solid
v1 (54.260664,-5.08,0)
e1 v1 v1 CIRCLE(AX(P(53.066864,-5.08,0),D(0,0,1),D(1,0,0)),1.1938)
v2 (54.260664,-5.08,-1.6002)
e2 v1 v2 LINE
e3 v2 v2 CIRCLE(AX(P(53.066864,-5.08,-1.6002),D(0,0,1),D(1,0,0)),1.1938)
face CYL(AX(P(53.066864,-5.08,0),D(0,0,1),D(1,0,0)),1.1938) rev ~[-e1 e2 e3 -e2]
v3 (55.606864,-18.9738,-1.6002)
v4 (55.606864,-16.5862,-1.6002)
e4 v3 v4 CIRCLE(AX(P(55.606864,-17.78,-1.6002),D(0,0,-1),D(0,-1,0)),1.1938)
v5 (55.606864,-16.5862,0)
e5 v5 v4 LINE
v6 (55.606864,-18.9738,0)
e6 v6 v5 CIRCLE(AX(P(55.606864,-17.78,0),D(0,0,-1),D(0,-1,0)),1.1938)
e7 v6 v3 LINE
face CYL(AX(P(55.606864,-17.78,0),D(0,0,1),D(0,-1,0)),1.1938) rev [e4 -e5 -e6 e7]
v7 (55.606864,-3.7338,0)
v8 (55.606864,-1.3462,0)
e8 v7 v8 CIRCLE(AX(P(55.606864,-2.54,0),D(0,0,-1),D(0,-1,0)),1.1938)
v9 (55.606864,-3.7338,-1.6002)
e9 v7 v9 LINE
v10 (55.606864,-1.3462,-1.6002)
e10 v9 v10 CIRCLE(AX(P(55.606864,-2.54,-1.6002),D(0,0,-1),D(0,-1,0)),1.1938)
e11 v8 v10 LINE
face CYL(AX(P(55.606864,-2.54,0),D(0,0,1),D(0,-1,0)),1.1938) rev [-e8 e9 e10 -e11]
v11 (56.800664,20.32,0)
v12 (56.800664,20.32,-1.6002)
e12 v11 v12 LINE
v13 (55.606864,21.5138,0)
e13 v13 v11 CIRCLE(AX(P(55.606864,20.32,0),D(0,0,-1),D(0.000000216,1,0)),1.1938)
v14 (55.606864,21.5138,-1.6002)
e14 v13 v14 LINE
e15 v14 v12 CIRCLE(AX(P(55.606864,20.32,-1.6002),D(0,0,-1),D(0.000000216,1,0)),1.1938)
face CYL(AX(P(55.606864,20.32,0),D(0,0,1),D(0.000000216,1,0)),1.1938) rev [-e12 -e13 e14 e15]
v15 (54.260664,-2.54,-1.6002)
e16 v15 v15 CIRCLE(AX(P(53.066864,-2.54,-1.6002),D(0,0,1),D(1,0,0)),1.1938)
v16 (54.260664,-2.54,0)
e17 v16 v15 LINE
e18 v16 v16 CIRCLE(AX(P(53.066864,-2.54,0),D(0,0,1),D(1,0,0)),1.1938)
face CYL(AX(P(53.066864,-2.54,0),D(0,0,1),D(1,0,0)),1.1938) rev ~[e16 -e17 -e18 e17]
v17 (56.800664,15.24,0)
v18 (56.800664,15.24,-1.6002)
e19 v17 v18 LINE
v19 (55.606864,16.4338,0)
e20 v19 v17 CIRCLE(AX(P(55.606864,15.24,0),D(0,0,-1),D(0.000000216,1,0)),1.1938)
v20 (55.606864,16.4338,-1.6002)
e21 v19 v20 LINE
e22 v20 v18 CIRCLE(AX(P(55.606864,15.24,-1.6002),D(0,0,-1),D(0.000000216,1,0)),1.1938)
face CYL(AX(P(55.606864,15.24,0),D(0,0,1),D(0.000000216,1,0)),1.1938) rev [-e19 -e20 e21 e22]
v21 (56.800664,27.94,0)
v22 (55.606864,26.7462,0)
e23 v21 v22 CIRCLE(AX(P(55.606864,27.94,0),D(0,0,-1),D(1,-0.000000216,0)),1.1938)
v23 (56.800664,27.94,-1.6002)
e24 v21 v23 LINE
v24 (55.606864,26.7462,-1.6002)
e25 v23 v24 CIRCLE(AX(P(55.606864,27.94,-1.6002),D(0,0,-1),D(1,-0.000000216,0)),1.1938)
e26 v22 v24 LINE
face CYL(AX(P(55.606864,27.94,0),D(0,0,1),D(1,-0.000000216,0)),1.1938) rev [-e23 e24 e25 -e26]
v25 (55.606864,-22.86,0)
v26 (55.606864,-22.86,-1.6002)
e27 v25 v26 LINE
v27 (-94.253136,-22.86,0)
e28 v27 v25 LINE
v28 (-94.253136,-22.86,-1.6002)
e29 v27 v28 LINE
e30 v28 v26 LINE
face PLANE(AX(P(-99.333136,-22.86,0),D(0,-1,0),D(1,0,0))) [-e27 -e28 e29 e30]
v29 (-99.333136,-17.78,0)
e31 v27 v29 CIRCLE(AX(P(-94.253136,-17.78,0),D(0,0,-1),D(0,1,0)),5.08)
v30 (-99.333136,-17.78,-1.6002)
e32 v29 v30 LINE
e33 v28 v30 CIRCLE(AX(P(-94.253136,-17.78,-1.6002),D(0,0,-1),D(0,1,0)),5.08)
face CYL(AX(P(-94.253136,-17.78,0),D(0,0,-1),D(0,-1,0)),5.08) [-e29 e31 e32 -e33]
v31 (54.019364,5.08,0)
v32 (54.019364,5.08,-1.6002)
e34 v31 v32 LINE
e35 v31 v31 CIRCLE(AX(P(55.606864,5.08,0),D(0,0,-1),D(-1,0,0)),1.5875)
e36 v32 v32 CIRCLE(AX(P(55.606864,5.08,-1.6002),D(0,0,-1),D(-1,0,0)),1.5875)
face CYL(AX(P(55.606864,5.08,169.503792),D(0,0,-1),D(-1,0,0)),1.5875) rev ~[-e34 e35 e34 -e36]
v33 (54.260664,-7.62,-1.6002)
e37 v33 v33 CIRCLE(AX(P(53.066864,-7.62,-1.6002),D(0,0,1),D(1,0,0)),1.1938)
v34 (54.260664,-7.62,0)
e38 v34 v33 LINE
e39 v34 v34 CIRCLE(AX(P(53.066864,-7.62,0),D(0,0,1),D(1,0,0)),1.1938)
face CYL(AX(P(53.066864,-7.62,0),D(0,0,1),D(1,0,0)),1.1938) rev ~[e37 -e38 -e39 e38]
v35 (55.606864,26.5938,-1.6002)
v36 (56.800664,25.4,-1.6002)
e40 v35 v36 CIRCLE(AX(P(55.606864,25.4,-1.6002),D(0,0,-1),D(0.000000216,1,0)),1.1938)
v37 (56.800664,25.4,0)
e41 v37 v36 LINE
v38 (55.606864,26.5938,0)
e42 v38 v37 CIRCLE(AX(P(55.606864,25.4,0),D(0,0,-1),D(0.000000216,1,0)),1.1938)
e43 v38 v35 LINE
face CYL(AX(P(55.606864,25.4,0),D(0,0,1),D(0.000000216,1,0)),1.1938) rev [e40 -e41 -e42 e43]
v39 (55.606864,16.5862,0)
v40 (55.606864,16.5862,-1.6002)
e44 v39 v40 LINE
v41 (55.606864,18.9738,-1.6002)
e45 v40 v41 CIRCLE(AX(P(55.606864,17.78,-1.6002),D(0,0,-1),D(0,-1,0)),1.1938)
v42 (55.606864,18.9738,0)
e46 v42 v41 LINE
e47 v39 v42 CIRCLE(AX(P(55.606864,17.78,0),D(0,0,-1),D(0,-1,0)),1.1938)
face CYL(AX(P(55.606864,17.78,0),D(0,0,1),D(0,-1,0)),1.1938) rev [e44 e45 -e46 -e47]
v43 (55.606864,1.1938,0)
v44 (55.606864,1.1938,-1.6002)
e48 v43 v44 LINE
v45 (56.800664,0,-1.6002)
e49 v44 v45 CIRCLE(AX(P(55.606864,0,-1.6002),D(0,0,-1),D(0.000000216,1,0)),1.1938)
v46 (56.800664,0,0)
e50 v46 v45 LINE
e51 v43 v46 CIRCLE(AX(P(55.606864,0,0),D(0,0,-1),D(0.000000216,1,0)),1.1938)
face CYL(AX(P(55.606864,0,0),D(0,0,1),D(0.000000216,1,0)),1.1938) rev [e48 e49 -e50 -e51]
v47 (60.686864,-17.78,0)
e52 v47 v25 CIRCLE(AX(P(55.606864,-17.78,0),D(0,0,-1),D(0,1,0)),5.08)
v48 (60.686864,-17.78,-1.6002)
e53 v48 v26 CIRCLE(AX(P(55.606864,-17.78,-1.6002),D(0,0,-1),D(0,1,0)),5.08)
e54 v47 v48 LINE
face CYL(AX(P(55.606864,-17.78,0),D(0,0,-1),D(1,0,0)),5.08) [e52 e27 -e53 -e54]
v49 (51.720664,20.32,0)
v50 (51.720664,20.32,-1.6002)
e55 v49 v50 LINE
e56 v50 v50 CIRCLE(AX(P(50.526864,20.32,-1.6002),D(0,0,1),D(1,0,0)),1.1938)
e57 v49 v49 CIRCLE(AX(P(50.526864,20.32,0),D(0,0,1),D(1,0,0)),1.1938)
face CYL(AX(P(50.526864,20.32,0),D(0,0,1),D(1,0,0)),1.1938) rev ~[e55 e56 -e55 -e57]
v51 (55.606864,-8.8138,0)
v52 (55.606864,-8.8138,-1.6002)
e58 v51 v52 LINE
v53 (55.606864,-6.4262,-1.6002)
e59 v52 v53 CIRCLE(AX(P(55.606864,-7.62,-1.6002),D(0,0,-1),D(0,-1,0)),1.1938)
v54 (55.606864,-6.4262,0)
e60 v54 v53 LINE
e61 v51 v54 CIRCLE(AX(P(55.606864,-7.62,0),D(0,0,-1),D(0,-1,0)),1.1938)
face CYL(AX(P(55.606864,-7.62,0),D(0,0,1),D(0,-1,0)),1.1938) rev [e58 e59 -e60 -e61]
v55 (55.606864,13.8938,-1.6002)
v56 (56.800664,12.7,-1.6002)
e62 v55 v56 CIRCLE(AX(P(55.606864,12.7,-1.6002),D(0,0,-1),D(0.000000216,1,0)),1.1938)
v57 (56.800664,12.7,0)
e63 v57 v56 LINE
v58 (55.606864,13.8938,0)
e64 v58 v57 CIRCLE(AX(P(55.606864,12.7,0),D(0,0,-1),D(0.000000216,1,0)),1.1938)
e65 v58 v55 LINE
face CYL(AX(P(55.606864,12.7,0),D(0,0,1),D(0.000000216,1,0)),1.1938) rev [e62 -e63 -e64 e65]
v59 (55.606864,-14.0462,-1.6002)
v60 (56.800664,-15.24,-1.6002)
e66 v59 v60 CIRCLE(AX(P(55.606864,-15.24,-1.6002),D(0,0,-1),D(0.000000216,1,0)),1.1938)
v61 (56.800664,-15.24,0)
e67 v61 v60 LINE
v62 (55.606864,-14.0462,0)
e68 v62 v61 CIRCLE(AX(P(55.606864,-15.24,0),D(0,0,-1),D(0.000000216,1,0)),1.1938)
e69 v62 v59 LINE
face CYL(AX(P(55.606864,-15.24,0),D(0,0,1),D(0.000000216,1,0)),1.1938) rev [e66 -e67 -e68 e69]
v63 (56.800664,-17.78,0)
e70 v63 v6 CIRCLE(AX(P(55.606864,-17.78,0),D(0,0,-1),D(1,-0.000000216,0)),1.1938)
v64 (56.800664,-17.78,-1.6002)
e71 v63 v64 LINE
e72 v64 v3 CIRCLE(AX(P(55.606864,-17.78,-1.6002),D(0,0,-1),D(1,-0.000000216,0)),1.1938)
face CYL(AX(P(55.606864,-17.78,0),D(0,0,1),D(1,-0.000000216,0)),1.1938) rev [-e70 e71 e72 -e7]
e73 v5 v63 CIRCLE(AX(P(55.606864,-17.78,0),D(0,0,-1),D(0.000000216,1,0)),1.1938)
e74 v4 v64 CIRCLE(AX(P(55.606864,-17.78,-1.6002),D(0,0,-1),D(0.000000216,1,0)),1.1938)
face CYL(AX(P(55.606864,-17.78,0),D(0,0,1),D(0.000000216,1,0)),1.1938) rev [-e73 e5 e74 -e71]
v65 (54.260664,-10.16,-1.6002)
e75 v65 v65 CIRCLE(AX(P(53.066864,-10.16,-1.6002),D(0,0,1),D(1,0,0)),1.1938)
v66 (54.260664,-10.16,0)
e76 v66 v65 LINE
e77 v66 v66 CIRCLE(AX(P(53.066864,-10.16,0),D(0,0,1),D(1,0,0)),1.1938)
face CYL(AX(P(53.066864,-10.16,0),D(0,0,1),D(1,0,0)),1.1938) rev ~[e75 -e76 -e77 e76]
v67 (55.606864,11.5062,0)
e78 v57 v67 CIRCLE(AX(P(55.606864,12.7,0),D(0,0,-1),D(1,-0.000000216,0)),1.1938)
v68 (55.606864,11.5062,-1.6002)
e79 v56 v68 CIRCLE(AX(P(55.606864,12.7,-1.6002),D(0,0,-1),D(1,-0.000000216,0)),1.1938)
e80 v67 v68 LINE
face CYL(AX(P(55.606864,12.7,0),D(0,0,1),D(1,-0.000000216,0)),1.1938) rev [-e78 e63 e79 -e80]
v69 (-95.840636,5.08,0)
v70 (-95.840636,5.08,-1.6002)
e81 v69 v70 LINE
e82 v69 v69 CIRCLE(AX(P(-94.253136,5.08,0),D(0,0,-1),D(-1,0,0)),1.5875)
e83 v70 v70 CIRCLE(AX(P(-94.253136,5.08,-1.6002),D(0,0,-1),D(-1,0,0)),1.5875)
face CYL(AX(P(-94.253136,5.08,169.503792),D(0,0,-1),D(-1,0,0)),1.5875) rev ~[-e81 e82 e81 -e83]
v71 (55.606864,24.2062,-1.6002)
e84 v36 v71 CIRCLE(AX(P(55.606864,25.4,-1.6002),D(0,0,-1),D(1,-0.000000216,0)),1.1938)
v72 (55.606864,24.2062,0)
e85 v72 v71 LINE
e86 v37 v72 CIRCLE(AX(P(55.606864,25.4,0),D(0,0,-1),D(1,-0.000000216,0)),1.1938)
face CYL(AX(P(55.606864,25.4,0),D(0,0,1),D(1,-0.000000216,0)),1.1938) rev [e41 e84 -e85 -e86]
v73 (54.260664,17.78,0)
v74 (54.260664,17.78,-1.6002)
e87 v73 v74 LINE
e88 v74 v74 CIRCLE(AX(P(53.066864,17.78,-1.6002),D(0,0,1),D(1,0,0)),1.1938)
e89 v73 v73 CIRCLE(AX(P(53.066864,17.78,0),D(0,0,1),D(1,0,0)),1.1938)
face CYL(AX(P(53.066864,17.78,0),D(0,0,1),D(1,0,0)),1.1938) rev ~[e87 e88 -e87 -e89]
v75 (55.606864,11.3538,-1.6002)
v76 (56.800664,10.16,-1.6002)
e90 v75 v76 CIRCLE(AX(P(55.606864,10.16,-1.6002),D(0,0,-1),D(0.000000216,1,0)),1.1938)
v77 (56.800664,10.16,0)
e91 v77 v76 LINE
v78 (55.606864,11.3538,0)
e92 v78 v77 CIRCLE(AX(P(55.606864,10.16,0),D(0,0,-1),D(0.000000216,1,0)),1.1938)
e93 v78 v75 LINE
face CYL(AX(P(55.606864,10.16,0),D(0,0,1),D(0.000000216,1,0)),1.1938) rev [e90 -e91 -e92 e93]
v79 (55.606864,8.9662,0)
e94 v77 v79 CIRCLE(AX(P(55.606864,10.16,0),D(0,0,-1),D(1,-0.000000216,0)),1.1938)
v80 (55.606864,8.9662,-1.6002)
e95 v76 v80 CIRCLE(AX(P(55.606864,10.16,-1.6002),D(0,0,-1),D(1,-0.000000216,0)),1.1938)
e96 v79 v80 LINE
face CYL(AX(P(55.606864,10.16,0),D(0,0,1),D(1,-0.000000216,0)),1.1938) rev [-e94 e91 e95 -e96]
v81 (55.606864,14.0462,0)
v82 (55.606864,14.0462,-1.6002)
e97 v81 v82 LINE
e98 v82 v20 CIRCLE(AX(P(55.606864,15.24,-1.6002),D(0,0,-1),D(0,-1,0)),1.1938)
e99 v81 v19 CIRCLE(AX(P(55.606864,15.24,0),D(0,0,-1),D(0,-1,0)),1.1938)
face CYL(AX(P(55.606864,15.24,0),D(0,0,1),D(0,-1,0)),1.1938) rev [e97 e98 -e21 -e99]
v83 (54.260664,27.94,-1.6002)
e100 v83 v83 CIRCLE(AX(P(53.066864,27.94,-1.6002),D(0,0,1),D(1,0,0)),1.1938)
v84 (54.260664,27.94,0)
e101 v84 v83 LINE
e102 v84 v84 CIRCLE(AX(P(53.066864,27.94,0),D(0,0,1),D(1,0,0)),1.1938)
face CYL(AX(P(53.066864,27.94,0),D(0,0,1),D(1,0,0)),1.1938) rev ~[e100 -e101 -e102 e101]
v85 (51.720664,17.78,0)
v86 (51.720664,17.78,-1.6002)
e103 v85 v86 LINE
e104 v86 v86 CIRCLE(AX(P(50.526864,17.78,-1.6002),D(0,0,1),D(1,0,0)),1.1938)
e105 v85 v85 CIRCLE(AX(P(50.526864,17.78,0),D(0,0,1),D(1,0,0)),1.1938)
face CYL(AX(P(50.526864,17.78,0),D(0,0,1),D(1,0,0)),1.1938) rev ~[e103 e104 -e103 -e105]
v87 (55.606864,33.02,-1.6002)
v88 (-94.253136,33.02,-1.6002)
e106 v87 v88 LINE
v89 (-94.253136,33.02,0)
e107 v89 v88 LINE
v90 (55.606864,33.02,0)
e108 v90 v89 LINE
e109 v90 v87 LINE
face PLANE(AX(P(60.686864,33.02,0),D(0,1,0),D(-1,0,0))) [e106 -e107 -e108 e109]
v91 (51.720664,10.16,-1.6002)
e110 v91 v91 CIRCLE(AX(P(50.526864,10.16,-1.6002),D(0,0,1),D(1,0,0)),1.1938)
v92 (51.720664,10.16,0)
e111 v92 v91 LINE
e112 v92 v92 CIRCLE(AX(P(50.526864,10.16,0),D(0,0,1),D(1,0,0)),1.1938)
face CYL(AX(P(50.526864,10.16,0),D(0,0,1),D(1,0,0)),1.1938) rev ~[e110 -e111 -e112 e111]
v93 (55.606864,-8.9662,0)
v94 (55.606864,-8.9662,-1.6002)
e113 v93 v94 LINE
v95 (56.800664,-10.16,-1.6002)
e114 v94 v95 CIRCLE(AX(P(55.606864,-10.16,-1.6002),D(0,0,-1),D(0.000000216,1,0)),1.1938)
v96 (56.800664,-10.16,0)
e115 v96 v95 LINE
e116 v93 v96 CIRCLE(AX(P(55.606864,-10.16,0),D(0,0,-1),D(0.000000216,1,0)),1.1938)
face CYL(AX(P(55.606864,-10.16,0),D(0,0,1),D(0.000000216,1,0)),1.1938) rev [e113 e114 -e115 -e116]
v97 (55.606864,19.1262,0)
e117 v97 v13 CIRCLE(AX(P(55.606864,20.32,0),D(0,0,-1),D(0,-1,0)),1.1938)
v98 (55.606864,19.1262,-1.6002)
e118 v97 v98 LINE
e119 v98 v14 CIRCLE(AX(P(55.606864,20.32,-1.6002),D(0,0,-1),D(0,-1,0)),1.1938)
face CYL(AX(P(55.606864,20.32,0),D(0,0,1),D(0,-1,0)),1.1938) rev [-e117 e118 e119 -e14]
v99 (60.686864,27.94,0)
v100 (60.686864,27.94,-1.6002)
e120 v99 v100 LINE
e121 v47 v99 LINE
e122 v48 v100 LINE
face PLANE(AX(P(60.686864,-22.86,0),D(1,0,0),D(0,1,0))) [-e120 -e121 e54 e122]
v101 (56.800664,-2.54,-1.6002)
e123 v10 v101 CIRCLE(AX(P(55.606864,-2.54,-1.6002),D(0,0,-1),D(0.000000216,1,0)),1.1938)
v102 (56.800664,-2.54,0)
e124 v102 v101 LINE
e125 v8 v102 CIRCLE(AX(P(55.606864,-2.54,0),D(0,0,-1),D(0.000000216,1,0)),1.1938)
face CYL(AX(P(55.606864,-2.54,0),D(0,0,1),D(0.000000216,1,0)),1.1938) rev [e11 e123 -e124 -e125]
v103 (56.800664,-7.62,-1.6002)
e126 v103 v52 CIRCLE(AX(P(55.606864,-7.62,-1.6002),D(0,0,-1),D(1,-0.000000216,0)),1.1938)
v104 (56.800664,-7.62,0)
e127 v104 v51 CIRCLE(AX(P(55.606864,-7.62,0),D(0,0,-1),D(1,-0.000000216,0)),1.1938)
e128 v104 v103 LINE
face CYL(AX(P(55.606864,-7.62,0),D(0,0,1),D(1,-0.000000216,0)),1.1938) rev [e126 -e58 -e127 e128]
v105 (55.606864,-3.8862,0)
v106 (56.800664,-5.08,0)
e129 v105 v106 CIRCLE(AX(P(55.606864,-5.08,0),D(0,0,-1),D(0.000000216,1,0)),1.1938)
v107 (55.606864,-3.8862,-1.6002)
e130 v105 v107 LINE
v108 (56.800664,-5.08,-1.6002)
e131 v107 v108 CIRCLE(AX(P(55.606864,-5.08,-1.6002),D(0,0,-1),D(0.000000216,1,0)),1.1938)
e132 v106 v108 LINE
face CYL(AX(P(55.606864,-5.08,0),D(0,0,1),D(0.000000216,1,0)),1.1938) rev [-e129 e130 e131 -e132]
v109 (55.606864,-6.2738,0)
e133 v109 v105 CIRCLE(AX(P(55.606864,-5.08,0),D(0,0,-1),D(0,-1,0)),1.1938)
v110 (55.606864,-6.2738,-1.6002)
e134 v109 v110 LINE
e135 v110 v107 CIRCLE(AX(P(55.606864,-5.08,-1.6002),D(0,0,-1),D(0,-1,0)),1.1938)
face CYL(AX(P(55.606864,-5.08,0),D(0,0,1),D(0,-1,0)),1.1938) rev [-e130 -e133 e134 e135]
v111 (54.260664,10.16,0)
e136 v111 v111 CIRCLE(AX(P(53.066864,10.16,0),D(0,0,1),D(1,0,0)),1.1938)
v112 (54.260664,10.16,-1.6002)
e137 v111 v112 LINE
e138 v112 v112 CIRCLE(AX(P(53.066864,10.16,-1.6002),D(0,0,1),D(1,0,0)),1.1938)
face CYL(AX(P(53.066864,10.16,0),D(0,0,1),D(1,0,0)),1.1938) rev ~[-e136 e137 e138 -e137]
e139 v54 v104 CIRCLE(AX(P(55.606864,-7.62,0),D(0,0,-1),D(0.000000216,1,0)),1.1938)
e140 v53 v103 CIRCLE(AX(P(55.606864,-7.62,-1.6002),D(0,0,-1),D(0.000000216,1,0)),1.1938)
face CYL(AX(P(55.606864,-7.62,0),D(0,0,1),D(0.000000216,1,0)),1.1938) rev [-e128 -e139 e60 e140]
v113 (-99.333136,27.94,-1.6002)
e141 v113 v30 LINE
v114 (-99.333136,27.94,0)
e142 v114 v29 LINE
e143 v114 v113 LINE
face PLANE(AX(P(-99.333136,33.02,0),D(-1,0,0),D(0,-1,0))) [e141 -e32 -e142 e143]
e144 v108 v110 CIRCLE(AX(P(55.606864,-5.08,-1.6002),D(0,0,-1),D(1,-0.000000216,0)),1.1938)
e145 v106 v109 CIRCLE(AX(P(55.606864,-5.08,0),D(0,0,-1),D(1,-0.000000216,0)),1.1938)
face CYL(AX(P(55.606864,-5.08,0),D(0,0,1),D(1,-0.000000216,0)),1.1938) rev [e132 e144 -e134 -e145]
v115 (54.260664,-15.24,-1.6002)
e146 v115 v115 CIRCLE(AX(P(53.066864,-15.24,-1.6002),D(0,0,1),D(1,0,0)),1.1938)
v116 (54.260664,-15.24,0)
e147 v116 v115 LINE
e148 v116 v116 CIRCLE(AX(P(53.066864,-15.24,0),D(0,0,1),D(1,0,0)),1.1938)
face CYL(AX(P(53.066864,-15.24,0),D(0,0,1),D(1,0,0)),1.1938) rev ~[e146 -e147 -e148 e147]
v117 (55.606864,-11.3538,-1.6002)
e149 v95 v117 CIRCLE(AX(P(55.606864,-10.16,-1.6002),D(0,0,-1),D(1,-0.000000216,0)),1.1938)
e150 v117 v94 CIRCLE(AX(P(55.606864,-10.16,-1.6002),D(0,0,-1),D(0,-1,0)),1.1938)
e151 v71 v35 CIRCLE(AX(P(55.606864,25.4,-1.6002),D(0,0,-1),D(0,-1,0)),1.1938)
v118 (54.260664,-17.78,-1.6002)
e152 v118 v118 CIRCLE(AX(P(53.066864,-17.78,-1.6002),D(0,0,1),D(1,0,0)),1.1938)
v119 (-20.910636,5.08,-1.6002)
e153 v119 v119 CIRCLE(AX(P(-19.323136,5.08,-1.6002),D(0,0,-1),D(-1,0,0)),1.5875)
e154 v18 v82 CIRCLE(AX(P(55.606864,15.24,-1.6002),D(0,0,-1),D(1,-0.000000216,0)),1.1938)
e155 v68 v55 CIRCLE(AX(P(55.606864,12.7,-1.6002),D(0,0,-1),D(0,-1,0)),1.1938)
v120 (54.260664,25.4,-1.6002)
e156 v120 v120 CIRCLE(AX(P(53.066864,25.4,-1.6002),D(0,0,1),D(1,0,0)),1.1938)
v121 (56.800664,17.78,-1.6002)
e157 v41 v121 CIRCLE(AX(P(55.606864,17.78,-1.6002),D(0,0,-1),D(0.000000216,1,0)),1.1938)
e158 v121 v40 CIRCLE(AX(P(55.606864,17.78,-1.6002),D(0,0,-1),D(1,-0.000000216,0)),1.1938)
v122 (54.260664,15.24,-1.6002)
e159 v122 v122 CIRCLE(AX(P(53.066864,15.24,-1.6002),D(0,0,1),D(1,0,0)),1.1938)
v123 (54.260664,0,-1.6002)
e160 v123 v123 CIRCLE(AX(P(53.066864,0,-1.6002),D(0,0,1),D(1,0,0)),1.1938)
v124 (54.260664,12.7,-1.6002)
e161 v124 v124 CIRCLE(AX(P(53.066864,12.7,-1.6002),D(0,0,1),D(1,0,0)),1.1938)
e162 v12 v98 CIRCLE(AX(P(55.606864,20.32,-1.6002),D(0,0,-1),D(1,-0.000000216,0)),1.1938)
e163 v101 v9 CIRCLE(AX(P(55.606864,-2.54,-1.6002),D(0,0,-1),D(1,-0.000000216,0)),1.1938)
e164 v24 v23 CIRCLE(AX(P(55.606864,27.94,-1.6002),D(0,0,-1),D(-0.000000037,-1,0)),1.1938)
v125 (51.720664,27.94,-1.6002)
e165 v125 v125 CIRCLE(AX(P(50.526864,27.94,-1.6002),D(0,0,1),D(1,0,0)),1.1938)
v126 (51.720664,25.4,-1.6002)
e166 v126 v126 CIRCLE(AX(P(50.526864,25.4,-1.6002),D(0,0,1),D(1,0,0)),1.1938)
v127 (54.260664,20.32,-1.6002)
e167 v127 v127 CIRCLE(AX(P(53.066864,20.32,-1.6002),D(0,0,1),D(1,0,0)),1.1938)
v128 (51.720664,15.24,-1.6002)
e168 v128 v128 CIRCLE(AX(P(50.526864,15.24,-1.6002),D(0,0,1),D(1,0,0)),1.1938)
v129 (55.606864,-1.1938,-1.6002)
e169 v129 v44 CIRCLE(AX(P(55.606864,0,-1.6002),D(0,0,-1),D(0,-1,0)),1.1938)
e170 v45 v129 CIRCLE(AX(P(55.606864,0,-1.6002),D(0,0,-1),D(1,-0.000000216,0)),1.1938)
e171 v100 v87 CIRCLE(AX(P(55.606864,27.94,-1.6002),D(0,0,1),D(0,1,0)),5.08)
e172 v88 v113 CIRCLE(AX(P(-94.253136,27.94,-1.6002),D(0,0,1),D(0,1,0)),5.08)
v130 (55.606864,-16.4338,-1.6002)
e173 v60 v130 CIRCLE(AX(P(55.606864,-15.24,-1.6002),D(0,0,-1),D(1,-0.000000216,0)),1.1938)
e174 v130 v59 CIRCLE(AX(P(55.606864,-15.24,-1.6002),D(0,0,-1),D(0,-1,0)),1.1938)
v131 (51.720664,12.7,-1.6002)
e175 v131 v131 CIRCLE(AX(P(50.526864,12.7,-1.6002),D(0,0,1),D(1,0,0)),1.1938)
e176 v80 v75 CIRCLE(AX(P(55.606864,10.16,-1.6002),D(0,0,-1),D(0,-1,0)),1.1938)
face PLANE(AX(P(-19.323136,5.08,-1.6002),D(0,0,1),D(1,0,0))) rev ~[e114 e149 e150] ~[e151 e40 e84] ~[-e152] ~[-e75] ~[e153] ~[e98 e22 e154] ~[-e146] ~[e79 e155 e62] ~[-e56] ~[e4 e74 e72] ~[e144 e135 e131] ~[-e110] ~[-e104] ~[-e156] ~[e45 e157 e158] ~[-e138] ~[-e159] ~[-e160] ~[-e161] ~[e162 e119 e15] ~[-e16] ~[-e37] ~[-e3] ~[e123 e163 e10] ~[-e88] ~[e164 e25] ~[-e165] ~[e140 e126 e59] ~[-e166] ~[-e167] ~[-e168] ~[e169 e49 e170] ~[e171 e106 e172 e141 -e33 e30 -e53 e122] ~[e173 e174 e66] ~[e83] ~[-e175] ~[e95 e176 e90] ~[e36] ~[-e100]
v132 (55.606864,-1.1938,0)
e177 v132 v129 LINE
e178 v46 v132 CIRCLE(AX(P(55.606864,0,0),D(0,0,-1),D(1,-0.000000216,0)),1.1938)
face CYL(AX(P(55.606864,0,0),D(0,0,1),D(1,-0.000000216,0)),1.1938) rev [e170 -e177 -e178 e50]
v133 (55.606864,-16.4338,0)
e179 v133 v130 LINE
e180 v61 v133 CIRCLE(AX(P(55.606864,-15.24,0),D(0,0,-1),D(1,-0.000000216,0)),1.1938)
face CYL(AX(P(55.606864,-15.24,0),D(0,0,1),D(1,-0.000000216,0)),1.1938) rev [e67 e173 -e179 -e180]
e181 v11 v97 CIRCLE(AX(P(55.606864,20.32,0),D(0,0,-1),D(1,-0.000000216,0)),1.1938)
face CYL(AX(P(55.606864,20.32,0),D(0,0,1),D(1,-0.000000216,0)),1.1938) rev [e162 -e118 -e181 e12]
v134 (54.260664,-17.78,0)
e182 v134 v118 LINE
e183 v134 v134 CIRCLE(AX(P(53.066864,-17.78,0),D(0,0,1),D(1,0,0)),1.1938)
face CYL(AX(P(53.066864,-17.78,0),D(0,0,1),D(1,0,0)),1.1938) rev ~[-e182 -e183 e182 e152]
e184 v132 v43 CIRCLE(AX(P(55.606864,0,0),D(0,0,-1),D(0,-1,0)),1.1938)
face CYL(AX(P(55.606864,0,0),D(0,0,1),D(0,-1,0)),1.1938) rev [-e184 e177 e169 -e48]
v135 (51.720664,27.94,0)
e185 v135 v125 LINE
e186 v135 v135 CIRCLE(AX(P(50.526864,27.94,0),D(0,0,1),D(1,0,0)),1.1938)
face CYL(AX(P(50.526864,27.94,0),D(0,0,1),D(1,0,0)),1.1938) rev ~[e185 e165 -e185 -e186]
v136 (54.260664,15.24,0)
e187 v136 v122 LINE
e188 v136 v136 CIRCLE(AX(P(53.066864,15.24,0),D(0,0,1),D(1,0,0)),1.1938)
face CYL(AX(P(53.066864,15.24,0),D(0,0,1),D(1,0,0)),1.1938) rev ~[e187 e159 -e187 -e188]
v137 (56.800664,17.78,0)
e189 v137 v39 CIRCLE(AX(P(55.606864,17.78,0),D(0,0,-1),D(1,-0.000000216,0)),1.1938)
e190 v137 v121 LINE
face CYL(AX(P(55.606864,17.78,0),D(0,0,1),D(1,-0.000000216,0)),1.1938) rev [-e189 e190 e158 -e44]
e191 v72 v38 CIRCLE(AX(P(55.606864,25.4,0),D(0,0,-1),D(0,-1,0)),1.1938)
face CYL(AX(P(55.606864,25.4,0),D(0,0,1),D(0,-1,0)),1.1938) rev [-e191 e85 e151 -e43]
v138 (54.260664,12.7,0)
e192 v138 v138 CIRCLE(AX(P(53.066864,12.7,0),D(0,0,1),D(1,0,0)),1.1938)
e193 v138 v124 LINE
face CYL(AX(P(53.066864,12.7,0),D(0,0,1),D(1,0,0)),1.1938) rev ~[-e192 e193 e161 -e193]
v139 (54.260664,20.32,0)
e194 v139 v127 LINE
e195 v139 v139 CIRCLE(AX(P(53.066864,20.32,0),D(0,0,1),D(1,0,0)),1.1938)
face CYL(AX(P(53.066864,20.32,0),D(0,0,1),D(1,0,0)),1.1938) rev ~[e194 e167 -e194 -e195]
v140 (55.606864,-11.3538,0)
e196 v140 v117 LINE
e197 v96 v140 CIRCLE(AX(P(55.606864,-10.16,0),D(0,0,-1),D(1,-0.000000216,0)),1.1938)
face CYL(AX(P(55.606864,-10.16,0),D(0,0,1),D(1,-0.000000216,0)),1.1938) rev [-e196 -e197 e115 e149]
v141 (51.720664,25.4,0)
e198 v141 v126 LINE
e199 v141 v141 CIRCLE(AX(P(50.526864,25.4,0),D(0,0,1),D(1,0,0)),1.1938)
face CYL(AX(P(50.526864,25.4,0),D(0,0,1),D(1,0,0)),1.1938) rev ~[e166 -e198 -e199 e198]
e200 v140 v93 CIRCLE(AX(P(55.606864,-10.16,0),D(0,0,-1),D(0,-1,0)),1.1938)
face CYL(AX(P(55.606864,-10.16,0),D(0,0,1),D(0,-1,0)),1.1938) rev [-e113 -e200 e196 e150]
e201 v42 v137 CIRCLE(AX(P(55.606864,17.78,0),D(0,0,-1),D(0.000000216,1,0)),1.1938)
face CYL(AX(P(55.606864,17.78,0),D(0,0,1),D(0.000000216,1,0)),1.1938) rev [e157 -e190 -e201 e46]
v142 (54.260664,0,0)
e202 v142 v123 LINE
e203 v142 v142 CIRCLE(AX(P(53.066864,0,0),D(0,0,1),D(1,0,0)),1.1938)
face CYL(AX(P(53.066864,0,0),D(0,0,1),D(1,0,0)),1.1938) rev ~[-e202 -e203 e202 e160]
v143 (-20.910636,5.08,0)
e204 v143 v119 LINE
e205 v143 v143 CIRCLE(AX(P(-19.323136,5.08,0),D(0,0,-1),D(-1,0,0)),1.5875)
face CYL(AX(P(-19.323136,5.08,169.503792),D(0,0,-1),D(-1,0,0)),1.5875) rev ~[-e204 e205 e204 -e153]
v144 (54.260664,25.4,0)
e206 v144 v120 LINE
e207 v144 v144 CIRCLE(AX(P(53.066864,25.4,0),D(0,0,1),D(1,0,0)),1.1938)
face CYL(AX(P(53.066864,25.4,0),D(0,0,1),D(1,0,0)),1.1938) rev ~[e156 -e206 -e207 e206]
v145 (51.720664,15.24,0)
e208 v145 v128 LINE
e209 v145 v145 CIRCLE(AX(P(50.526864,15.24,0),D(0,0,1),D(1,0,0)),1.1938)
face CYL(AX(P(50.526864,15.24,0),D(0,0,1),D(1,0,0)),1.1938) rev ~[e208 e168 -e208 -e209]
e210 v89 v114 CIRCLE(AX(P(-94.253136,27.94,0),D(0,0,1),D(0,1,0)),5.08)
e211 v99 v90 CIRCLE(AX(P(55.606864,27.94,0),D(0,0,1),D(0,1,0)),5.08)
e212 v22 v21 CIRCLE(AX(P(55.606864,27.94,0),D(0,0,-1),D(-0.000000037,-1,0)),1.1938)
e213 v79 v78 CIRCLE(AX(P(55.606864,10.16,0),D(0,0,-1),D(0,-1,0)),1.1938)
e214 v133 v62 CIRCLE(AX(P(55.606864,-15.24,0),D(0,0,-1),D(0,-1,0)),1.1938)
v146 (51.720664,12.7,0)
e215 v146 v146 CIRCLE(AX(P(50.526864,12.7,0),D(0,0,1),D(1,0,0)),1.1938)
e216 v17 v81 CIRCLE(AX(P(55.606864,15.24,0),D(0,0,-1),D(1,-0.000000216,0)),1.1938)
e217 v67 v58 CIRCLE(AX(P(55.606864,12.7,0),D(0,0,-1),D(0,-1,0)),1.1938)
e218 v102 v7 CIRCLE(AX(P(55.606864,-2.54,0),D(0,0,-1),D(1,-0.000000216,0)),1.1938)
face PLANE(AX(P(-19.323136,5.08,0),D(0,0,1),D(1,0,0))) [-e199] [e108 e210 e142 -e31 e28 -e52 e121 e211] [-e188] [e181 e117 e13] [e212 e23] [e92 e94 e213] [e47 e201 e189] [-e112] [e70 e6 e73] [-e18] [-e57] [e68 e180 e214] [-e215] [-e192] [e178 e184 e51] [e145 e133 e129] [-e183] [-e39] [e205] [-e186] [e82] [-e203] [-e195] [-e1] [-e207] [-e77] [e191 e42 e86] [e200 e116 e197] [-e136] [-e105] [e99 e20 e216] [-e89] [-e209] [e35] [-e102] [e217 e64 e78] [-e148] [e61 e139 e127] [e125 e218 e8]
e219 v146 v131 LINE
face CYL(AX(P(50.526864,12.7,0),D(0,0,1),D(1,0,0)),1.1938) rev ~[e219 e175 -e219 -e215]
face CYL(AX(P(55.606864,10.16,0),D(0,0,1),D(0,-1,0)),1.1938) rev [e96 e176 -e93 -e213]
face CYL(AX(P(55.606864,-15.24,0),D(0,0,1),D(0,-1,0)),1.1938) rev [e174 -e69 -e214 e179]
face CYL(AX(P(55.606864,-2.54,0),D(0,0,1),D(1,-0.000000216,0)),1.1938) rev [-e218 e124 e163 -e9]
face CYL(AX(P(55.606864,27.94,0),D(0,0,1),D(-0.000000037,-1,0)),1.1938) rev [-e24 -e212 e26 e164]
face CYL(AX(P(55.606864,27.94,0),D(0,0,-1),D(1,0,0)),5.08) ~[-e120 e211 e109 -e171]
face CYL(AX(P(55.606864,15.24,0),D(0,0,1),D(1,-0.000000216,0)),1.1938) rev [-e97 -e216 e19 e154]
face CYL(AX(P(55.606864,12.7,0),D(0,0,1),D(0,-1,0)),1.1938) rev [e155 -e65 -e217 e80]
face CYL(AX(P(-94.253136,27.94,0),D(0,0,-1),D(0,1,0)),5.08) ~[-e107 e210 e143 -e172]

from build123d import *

# Parameters (mm, degrees)
F0_R     = 1.1938
F1_DEPTH = 1.6002
F2_D     = 3.175
F3_R     = 5.08


with BuildPart() as f1:
    # F0 (on Top) → F1 (new body)
    with BuildSketch(Plane.XY):
        Polygon((-94.253136, -22.86), (55.606864, -22.86), (60.686864, -22.86), (60.686864, 33.02), (55.606864, 33.02), (-94.253136, 33.02), (-99.333136, 33.02), (-99.333136, -22.86), align=None)
        with Locations((53.066864, -17.78)):
            Circle(F0_R, mode=Mode.SUBTRACT)
        with BuildLine():
            ThreePointArc((55.606864, -18.9738), (54.413064, -17.78), (55.606864, -16.5862))
            ThreePointArc((55.606864, -16.5862), (56.451008, -16.935856), (56.800664, -17.78))
            ThreePointArc((56.800664, -17.78), (56.451008, -18.624144), (55.606864, -18.9738))
        make_face(mode=Mode.SUBTRACT)
        with Locations((53.066864, -15.24)):
            Circle(F0_R, mode=Mode.SUBTRACT)
        with BuildLine():
            ThreePointArc((55.606864, -16.4338), (54.413064, -15.24), (55.606864, -14.0462))
            ThreePointArc((55.606864, -14.0462), (56.451008, -14.395856), (56.800664, -15.24))
            ThreePointArc((56.800664, -15.24), (56.451008, -16.084144), (55.606864, -16.4338))
        make_face(mode=Mode.SUBTRACT)
        with Locations((53.066864, -10.16)):
            Circle(F0_R, mode=Mode.SUBTRACT)
        with BuildLine():
            ThreePointArc((55.606864, -11.3538), (54.413064, -10.16), (55.606864, -8.9662))
            ThreePointArc((55.606864, -8.9662), (56.451008, -9.315856), (56.800664, -10.16))
            ThreePointArc((56.800664, -10.16), (56.451008, -11.004144), (55.606864, -11.3538))
        make_face(mode=Mode.SUBTRACT)
        with Locations((53.066864, -7.62)):
            Circle(F0_R, mode=Mode.SUBTRACT)
        with BuildLine():
            ThreePointArc((56.800664, -7.62), (56.451008, -8.464144), (55.606864, -8.8138))
            ThreePointArc((55.606864, -8.8138), (54.413064, -7.62), (55.606864, -6.4262))
            ThreePointArc((55.606864, -6.4262), (56.451008, -6.775856), (56.800664, -7.62))
        make_face(mode=Mode.SUBTRACT)
        with Locations((53.066864, -5.08)):
            Circle(F0_R, mode=Mode.SUBTRACT)
        with BuildLine():
            ThreePointArc((56.800664, -5.08), (56.451008, -5.924144), (55.606864, -6.2738))
            ThreePointArc((55.606864, -6.2738), (54.413064, -5.08), (55.606864, -3.8862))
            ThreePointArc((55.606864, -3.8862), (56.451008, -4.235856), (56.800664, -5.08))
        make_face(mode=Mode.SUBTRACT)
        with Locations((53.066864, -2.54)):
            Circle(F0_R, mode=Mode.SUBTRACT)
        with BuildLine():
            ThreePointArc((56.800664, -2.54), (56.451008, -3.384144), (55.606864, -3.7338))
            ThreePointArc((55.606864, -3.7338), (54.413064, -2.54), (55.606864, -1.3462))
            ThreePointArc((55.606864, -1.3462), (56.451008, -1.695856), (56.800664, -2.54))
        make_face(mode=Mode.SUBTRACT)
        with Locations((53.066864, 0)):
            Circle(F0_R, mode=Mode.SUBTRACT)
        with BuildLine():
            ThreePointArc((56.800664, 0), (56.451008, -0.844144), (55.606864, -1.1938))
            ThreePointArc((55.606864, -1.1938), (54.413064, 0), (55.606864, 1.1938))
            ThreePointArc((55.606864, 1.1938), (56.451008, 0.844144), (56.800664, 0))
        make_face(mode=Mode.SUBTRACT)
        with Locations((50.526864, 10.16)):
            Circle(F0_R, mode=Mode.SUBTRACT)
        with Locations((53.066864, 10.16)):
            Circle(F0_R, mode=Mode.SUBTRACT)
        with BuildLine():
            ThreePointArc((56.800664, 10.16), (56.451008, 9.315856), (55.606864, 8.9662))
            ThreePointArc((55.606864, 8.9662), (54.413064, 10.16), (55.606864, 11.3538))
            ThreePointArc((55.606864, 11.3538), (56.451008, 11.004144), (56.800664, 10.16))
        make_face(mode=Mode.SUBTRACT)
        with Locations((50.526864, 12.7)):
            Circle(F0_R, mode=Mode.SUBTRACT)
        with Locations((50.526864, 15.24)):
            Circle(F0_R, mode=Mode.SUBTRACT)
        with Locations((53.066864, 12.7)):
            Circle(F0_R, mode=Mode.SUBTRACT)
        with BuildLine():
            ThreePointArc((56.800664, 12.7), (56.451008, 11.855856), (55.606864, 11.5062))
            ThreePointArc((55.606864, 11.5062), (54.413064, 12.7), (55.606864, 13.8938))
            ThreePointArc((55.606864, 13.8938), (56.451008, 13.544144), (56.800664, 12.7))
        make_face(mode=Mode.SUBTRACT)
        with Locations((53.066864, 15.24)):
            Circle(F0_R, mode=Mode.SUBTRACT)
        with BuildLine():
            ThreePointArc((56.800664, 15.24), (56.451008, 14.395856), (55.606864, 14.0462))
            ThreePointArc((55.606864, 14.0462), (54.413064, 15.24), (55.606864, 16.4338))
            ThreePointArc((55.606864, 16.4338), (56.451008, 16.084144), (56.800664, 15.24))
        make_face(mode=Mode.SUBTRACT)
        with Locations((50.526864, 17.78)):
            Circle(F0_R, mode=Mode.SUBTRACT)
        with Locations((53.066864, 17.78)):
            Circle(F0_R, mode=Mode.SUBTRACT)
        with BuildLine():
            ThreePointArc((56.800664, 17.78), (56.451008, 16.935856), (55.606864, 16.5862))
            ThreePointArc((55.606864, 16.5862), (54.413064, 17.78), (55.606864, 18.9738))
            ThreePointArc((55.606864, 18.9738), (56.451008, 18.624144), (56.800664, 17.78))
        make_face(mode=Mode.SUBTRACT)
        with Locations((50.526864, 20.32)):
            Circle(F0_R, mode=Mode.SUBTRACT)
        with Locations((53.066864, 20.32)):
            Circle(F0_R, mode=Mode.SUBTRACT)
        with BuildLine():
            ThreePointArc((56.800664, 20.32), (56.451008, 19.475856), (55.606864, 19.1262))
            ThreePointArc((55.606864, 19.1262), (54.413064, 20.32), (55.606864, 21.5138))
            ThreePointArc((55.606864, 21.5138), (56.451008, 21.164144), (56.800664, 20.32))
        make_face(mode=Mode.SUBTRACT)
        with Locations((50.526864, 25.4)):
            Circle(F0_R, mode=Mode.SUBTRACT)
        with Locations((53.066864, 25.4)):
            Circle(F0_R, mode=Mode.SUBTRACT)
        with BuildLine():
            ThreePointArc((56.800664, 25.4), (56.451008, 24.555856), (55.606864, 24.2062))
            ThreePointArc((55.606864, 24.2062), (54.413064, 25.4), (55.606864, 26.5938))
            ThreePointArc((55.606864, 26.5938), (56.451008, 26.244144), (56.800664, 25.4))
        make_face(mode=Mode.SUBTRACT)
        with Locations((50.526864, 27.94)):
            Circle(F0_R, mode=Mode.SUBTRACT)
        with Locations((53.066864, 27.94)):
            Circle(F0_R, mode=Mode.SUBTRACT)
        with BuildLine():
            ThreePointArc((56.800664, 27.94), (56.451008, 27.095856), (55.606864, 26.7462))
            ThreePointArc((55.606864, 26.7462), (54.76272, 28.784144), (56.800664, 27.94))
        make_face(mode=Mode.SUBTRACT)
    extrude(amount=-F1_DEPTH)

    # F2 (through all)
    with Locations(Plane.XY):
        with Locations((-94.253136, 5.08), (-19.323136, 5.08), (55.606864, 5.08)):
            Hole(F2_D / 2)

    # F3
    f3_edges = [f1.edges().sort_by_distance(p)[0] for p in [
        (60.686864, -22.86, -0.8001),
        (60.686864, 33.02, -0.8001),
        (-99.333136, -22.86, -0.8001),
        (-99.333136, 33.02, -0.8001),
    ]]
    fillet(f3_edges, radius=F3_R)


solid = f1.part
